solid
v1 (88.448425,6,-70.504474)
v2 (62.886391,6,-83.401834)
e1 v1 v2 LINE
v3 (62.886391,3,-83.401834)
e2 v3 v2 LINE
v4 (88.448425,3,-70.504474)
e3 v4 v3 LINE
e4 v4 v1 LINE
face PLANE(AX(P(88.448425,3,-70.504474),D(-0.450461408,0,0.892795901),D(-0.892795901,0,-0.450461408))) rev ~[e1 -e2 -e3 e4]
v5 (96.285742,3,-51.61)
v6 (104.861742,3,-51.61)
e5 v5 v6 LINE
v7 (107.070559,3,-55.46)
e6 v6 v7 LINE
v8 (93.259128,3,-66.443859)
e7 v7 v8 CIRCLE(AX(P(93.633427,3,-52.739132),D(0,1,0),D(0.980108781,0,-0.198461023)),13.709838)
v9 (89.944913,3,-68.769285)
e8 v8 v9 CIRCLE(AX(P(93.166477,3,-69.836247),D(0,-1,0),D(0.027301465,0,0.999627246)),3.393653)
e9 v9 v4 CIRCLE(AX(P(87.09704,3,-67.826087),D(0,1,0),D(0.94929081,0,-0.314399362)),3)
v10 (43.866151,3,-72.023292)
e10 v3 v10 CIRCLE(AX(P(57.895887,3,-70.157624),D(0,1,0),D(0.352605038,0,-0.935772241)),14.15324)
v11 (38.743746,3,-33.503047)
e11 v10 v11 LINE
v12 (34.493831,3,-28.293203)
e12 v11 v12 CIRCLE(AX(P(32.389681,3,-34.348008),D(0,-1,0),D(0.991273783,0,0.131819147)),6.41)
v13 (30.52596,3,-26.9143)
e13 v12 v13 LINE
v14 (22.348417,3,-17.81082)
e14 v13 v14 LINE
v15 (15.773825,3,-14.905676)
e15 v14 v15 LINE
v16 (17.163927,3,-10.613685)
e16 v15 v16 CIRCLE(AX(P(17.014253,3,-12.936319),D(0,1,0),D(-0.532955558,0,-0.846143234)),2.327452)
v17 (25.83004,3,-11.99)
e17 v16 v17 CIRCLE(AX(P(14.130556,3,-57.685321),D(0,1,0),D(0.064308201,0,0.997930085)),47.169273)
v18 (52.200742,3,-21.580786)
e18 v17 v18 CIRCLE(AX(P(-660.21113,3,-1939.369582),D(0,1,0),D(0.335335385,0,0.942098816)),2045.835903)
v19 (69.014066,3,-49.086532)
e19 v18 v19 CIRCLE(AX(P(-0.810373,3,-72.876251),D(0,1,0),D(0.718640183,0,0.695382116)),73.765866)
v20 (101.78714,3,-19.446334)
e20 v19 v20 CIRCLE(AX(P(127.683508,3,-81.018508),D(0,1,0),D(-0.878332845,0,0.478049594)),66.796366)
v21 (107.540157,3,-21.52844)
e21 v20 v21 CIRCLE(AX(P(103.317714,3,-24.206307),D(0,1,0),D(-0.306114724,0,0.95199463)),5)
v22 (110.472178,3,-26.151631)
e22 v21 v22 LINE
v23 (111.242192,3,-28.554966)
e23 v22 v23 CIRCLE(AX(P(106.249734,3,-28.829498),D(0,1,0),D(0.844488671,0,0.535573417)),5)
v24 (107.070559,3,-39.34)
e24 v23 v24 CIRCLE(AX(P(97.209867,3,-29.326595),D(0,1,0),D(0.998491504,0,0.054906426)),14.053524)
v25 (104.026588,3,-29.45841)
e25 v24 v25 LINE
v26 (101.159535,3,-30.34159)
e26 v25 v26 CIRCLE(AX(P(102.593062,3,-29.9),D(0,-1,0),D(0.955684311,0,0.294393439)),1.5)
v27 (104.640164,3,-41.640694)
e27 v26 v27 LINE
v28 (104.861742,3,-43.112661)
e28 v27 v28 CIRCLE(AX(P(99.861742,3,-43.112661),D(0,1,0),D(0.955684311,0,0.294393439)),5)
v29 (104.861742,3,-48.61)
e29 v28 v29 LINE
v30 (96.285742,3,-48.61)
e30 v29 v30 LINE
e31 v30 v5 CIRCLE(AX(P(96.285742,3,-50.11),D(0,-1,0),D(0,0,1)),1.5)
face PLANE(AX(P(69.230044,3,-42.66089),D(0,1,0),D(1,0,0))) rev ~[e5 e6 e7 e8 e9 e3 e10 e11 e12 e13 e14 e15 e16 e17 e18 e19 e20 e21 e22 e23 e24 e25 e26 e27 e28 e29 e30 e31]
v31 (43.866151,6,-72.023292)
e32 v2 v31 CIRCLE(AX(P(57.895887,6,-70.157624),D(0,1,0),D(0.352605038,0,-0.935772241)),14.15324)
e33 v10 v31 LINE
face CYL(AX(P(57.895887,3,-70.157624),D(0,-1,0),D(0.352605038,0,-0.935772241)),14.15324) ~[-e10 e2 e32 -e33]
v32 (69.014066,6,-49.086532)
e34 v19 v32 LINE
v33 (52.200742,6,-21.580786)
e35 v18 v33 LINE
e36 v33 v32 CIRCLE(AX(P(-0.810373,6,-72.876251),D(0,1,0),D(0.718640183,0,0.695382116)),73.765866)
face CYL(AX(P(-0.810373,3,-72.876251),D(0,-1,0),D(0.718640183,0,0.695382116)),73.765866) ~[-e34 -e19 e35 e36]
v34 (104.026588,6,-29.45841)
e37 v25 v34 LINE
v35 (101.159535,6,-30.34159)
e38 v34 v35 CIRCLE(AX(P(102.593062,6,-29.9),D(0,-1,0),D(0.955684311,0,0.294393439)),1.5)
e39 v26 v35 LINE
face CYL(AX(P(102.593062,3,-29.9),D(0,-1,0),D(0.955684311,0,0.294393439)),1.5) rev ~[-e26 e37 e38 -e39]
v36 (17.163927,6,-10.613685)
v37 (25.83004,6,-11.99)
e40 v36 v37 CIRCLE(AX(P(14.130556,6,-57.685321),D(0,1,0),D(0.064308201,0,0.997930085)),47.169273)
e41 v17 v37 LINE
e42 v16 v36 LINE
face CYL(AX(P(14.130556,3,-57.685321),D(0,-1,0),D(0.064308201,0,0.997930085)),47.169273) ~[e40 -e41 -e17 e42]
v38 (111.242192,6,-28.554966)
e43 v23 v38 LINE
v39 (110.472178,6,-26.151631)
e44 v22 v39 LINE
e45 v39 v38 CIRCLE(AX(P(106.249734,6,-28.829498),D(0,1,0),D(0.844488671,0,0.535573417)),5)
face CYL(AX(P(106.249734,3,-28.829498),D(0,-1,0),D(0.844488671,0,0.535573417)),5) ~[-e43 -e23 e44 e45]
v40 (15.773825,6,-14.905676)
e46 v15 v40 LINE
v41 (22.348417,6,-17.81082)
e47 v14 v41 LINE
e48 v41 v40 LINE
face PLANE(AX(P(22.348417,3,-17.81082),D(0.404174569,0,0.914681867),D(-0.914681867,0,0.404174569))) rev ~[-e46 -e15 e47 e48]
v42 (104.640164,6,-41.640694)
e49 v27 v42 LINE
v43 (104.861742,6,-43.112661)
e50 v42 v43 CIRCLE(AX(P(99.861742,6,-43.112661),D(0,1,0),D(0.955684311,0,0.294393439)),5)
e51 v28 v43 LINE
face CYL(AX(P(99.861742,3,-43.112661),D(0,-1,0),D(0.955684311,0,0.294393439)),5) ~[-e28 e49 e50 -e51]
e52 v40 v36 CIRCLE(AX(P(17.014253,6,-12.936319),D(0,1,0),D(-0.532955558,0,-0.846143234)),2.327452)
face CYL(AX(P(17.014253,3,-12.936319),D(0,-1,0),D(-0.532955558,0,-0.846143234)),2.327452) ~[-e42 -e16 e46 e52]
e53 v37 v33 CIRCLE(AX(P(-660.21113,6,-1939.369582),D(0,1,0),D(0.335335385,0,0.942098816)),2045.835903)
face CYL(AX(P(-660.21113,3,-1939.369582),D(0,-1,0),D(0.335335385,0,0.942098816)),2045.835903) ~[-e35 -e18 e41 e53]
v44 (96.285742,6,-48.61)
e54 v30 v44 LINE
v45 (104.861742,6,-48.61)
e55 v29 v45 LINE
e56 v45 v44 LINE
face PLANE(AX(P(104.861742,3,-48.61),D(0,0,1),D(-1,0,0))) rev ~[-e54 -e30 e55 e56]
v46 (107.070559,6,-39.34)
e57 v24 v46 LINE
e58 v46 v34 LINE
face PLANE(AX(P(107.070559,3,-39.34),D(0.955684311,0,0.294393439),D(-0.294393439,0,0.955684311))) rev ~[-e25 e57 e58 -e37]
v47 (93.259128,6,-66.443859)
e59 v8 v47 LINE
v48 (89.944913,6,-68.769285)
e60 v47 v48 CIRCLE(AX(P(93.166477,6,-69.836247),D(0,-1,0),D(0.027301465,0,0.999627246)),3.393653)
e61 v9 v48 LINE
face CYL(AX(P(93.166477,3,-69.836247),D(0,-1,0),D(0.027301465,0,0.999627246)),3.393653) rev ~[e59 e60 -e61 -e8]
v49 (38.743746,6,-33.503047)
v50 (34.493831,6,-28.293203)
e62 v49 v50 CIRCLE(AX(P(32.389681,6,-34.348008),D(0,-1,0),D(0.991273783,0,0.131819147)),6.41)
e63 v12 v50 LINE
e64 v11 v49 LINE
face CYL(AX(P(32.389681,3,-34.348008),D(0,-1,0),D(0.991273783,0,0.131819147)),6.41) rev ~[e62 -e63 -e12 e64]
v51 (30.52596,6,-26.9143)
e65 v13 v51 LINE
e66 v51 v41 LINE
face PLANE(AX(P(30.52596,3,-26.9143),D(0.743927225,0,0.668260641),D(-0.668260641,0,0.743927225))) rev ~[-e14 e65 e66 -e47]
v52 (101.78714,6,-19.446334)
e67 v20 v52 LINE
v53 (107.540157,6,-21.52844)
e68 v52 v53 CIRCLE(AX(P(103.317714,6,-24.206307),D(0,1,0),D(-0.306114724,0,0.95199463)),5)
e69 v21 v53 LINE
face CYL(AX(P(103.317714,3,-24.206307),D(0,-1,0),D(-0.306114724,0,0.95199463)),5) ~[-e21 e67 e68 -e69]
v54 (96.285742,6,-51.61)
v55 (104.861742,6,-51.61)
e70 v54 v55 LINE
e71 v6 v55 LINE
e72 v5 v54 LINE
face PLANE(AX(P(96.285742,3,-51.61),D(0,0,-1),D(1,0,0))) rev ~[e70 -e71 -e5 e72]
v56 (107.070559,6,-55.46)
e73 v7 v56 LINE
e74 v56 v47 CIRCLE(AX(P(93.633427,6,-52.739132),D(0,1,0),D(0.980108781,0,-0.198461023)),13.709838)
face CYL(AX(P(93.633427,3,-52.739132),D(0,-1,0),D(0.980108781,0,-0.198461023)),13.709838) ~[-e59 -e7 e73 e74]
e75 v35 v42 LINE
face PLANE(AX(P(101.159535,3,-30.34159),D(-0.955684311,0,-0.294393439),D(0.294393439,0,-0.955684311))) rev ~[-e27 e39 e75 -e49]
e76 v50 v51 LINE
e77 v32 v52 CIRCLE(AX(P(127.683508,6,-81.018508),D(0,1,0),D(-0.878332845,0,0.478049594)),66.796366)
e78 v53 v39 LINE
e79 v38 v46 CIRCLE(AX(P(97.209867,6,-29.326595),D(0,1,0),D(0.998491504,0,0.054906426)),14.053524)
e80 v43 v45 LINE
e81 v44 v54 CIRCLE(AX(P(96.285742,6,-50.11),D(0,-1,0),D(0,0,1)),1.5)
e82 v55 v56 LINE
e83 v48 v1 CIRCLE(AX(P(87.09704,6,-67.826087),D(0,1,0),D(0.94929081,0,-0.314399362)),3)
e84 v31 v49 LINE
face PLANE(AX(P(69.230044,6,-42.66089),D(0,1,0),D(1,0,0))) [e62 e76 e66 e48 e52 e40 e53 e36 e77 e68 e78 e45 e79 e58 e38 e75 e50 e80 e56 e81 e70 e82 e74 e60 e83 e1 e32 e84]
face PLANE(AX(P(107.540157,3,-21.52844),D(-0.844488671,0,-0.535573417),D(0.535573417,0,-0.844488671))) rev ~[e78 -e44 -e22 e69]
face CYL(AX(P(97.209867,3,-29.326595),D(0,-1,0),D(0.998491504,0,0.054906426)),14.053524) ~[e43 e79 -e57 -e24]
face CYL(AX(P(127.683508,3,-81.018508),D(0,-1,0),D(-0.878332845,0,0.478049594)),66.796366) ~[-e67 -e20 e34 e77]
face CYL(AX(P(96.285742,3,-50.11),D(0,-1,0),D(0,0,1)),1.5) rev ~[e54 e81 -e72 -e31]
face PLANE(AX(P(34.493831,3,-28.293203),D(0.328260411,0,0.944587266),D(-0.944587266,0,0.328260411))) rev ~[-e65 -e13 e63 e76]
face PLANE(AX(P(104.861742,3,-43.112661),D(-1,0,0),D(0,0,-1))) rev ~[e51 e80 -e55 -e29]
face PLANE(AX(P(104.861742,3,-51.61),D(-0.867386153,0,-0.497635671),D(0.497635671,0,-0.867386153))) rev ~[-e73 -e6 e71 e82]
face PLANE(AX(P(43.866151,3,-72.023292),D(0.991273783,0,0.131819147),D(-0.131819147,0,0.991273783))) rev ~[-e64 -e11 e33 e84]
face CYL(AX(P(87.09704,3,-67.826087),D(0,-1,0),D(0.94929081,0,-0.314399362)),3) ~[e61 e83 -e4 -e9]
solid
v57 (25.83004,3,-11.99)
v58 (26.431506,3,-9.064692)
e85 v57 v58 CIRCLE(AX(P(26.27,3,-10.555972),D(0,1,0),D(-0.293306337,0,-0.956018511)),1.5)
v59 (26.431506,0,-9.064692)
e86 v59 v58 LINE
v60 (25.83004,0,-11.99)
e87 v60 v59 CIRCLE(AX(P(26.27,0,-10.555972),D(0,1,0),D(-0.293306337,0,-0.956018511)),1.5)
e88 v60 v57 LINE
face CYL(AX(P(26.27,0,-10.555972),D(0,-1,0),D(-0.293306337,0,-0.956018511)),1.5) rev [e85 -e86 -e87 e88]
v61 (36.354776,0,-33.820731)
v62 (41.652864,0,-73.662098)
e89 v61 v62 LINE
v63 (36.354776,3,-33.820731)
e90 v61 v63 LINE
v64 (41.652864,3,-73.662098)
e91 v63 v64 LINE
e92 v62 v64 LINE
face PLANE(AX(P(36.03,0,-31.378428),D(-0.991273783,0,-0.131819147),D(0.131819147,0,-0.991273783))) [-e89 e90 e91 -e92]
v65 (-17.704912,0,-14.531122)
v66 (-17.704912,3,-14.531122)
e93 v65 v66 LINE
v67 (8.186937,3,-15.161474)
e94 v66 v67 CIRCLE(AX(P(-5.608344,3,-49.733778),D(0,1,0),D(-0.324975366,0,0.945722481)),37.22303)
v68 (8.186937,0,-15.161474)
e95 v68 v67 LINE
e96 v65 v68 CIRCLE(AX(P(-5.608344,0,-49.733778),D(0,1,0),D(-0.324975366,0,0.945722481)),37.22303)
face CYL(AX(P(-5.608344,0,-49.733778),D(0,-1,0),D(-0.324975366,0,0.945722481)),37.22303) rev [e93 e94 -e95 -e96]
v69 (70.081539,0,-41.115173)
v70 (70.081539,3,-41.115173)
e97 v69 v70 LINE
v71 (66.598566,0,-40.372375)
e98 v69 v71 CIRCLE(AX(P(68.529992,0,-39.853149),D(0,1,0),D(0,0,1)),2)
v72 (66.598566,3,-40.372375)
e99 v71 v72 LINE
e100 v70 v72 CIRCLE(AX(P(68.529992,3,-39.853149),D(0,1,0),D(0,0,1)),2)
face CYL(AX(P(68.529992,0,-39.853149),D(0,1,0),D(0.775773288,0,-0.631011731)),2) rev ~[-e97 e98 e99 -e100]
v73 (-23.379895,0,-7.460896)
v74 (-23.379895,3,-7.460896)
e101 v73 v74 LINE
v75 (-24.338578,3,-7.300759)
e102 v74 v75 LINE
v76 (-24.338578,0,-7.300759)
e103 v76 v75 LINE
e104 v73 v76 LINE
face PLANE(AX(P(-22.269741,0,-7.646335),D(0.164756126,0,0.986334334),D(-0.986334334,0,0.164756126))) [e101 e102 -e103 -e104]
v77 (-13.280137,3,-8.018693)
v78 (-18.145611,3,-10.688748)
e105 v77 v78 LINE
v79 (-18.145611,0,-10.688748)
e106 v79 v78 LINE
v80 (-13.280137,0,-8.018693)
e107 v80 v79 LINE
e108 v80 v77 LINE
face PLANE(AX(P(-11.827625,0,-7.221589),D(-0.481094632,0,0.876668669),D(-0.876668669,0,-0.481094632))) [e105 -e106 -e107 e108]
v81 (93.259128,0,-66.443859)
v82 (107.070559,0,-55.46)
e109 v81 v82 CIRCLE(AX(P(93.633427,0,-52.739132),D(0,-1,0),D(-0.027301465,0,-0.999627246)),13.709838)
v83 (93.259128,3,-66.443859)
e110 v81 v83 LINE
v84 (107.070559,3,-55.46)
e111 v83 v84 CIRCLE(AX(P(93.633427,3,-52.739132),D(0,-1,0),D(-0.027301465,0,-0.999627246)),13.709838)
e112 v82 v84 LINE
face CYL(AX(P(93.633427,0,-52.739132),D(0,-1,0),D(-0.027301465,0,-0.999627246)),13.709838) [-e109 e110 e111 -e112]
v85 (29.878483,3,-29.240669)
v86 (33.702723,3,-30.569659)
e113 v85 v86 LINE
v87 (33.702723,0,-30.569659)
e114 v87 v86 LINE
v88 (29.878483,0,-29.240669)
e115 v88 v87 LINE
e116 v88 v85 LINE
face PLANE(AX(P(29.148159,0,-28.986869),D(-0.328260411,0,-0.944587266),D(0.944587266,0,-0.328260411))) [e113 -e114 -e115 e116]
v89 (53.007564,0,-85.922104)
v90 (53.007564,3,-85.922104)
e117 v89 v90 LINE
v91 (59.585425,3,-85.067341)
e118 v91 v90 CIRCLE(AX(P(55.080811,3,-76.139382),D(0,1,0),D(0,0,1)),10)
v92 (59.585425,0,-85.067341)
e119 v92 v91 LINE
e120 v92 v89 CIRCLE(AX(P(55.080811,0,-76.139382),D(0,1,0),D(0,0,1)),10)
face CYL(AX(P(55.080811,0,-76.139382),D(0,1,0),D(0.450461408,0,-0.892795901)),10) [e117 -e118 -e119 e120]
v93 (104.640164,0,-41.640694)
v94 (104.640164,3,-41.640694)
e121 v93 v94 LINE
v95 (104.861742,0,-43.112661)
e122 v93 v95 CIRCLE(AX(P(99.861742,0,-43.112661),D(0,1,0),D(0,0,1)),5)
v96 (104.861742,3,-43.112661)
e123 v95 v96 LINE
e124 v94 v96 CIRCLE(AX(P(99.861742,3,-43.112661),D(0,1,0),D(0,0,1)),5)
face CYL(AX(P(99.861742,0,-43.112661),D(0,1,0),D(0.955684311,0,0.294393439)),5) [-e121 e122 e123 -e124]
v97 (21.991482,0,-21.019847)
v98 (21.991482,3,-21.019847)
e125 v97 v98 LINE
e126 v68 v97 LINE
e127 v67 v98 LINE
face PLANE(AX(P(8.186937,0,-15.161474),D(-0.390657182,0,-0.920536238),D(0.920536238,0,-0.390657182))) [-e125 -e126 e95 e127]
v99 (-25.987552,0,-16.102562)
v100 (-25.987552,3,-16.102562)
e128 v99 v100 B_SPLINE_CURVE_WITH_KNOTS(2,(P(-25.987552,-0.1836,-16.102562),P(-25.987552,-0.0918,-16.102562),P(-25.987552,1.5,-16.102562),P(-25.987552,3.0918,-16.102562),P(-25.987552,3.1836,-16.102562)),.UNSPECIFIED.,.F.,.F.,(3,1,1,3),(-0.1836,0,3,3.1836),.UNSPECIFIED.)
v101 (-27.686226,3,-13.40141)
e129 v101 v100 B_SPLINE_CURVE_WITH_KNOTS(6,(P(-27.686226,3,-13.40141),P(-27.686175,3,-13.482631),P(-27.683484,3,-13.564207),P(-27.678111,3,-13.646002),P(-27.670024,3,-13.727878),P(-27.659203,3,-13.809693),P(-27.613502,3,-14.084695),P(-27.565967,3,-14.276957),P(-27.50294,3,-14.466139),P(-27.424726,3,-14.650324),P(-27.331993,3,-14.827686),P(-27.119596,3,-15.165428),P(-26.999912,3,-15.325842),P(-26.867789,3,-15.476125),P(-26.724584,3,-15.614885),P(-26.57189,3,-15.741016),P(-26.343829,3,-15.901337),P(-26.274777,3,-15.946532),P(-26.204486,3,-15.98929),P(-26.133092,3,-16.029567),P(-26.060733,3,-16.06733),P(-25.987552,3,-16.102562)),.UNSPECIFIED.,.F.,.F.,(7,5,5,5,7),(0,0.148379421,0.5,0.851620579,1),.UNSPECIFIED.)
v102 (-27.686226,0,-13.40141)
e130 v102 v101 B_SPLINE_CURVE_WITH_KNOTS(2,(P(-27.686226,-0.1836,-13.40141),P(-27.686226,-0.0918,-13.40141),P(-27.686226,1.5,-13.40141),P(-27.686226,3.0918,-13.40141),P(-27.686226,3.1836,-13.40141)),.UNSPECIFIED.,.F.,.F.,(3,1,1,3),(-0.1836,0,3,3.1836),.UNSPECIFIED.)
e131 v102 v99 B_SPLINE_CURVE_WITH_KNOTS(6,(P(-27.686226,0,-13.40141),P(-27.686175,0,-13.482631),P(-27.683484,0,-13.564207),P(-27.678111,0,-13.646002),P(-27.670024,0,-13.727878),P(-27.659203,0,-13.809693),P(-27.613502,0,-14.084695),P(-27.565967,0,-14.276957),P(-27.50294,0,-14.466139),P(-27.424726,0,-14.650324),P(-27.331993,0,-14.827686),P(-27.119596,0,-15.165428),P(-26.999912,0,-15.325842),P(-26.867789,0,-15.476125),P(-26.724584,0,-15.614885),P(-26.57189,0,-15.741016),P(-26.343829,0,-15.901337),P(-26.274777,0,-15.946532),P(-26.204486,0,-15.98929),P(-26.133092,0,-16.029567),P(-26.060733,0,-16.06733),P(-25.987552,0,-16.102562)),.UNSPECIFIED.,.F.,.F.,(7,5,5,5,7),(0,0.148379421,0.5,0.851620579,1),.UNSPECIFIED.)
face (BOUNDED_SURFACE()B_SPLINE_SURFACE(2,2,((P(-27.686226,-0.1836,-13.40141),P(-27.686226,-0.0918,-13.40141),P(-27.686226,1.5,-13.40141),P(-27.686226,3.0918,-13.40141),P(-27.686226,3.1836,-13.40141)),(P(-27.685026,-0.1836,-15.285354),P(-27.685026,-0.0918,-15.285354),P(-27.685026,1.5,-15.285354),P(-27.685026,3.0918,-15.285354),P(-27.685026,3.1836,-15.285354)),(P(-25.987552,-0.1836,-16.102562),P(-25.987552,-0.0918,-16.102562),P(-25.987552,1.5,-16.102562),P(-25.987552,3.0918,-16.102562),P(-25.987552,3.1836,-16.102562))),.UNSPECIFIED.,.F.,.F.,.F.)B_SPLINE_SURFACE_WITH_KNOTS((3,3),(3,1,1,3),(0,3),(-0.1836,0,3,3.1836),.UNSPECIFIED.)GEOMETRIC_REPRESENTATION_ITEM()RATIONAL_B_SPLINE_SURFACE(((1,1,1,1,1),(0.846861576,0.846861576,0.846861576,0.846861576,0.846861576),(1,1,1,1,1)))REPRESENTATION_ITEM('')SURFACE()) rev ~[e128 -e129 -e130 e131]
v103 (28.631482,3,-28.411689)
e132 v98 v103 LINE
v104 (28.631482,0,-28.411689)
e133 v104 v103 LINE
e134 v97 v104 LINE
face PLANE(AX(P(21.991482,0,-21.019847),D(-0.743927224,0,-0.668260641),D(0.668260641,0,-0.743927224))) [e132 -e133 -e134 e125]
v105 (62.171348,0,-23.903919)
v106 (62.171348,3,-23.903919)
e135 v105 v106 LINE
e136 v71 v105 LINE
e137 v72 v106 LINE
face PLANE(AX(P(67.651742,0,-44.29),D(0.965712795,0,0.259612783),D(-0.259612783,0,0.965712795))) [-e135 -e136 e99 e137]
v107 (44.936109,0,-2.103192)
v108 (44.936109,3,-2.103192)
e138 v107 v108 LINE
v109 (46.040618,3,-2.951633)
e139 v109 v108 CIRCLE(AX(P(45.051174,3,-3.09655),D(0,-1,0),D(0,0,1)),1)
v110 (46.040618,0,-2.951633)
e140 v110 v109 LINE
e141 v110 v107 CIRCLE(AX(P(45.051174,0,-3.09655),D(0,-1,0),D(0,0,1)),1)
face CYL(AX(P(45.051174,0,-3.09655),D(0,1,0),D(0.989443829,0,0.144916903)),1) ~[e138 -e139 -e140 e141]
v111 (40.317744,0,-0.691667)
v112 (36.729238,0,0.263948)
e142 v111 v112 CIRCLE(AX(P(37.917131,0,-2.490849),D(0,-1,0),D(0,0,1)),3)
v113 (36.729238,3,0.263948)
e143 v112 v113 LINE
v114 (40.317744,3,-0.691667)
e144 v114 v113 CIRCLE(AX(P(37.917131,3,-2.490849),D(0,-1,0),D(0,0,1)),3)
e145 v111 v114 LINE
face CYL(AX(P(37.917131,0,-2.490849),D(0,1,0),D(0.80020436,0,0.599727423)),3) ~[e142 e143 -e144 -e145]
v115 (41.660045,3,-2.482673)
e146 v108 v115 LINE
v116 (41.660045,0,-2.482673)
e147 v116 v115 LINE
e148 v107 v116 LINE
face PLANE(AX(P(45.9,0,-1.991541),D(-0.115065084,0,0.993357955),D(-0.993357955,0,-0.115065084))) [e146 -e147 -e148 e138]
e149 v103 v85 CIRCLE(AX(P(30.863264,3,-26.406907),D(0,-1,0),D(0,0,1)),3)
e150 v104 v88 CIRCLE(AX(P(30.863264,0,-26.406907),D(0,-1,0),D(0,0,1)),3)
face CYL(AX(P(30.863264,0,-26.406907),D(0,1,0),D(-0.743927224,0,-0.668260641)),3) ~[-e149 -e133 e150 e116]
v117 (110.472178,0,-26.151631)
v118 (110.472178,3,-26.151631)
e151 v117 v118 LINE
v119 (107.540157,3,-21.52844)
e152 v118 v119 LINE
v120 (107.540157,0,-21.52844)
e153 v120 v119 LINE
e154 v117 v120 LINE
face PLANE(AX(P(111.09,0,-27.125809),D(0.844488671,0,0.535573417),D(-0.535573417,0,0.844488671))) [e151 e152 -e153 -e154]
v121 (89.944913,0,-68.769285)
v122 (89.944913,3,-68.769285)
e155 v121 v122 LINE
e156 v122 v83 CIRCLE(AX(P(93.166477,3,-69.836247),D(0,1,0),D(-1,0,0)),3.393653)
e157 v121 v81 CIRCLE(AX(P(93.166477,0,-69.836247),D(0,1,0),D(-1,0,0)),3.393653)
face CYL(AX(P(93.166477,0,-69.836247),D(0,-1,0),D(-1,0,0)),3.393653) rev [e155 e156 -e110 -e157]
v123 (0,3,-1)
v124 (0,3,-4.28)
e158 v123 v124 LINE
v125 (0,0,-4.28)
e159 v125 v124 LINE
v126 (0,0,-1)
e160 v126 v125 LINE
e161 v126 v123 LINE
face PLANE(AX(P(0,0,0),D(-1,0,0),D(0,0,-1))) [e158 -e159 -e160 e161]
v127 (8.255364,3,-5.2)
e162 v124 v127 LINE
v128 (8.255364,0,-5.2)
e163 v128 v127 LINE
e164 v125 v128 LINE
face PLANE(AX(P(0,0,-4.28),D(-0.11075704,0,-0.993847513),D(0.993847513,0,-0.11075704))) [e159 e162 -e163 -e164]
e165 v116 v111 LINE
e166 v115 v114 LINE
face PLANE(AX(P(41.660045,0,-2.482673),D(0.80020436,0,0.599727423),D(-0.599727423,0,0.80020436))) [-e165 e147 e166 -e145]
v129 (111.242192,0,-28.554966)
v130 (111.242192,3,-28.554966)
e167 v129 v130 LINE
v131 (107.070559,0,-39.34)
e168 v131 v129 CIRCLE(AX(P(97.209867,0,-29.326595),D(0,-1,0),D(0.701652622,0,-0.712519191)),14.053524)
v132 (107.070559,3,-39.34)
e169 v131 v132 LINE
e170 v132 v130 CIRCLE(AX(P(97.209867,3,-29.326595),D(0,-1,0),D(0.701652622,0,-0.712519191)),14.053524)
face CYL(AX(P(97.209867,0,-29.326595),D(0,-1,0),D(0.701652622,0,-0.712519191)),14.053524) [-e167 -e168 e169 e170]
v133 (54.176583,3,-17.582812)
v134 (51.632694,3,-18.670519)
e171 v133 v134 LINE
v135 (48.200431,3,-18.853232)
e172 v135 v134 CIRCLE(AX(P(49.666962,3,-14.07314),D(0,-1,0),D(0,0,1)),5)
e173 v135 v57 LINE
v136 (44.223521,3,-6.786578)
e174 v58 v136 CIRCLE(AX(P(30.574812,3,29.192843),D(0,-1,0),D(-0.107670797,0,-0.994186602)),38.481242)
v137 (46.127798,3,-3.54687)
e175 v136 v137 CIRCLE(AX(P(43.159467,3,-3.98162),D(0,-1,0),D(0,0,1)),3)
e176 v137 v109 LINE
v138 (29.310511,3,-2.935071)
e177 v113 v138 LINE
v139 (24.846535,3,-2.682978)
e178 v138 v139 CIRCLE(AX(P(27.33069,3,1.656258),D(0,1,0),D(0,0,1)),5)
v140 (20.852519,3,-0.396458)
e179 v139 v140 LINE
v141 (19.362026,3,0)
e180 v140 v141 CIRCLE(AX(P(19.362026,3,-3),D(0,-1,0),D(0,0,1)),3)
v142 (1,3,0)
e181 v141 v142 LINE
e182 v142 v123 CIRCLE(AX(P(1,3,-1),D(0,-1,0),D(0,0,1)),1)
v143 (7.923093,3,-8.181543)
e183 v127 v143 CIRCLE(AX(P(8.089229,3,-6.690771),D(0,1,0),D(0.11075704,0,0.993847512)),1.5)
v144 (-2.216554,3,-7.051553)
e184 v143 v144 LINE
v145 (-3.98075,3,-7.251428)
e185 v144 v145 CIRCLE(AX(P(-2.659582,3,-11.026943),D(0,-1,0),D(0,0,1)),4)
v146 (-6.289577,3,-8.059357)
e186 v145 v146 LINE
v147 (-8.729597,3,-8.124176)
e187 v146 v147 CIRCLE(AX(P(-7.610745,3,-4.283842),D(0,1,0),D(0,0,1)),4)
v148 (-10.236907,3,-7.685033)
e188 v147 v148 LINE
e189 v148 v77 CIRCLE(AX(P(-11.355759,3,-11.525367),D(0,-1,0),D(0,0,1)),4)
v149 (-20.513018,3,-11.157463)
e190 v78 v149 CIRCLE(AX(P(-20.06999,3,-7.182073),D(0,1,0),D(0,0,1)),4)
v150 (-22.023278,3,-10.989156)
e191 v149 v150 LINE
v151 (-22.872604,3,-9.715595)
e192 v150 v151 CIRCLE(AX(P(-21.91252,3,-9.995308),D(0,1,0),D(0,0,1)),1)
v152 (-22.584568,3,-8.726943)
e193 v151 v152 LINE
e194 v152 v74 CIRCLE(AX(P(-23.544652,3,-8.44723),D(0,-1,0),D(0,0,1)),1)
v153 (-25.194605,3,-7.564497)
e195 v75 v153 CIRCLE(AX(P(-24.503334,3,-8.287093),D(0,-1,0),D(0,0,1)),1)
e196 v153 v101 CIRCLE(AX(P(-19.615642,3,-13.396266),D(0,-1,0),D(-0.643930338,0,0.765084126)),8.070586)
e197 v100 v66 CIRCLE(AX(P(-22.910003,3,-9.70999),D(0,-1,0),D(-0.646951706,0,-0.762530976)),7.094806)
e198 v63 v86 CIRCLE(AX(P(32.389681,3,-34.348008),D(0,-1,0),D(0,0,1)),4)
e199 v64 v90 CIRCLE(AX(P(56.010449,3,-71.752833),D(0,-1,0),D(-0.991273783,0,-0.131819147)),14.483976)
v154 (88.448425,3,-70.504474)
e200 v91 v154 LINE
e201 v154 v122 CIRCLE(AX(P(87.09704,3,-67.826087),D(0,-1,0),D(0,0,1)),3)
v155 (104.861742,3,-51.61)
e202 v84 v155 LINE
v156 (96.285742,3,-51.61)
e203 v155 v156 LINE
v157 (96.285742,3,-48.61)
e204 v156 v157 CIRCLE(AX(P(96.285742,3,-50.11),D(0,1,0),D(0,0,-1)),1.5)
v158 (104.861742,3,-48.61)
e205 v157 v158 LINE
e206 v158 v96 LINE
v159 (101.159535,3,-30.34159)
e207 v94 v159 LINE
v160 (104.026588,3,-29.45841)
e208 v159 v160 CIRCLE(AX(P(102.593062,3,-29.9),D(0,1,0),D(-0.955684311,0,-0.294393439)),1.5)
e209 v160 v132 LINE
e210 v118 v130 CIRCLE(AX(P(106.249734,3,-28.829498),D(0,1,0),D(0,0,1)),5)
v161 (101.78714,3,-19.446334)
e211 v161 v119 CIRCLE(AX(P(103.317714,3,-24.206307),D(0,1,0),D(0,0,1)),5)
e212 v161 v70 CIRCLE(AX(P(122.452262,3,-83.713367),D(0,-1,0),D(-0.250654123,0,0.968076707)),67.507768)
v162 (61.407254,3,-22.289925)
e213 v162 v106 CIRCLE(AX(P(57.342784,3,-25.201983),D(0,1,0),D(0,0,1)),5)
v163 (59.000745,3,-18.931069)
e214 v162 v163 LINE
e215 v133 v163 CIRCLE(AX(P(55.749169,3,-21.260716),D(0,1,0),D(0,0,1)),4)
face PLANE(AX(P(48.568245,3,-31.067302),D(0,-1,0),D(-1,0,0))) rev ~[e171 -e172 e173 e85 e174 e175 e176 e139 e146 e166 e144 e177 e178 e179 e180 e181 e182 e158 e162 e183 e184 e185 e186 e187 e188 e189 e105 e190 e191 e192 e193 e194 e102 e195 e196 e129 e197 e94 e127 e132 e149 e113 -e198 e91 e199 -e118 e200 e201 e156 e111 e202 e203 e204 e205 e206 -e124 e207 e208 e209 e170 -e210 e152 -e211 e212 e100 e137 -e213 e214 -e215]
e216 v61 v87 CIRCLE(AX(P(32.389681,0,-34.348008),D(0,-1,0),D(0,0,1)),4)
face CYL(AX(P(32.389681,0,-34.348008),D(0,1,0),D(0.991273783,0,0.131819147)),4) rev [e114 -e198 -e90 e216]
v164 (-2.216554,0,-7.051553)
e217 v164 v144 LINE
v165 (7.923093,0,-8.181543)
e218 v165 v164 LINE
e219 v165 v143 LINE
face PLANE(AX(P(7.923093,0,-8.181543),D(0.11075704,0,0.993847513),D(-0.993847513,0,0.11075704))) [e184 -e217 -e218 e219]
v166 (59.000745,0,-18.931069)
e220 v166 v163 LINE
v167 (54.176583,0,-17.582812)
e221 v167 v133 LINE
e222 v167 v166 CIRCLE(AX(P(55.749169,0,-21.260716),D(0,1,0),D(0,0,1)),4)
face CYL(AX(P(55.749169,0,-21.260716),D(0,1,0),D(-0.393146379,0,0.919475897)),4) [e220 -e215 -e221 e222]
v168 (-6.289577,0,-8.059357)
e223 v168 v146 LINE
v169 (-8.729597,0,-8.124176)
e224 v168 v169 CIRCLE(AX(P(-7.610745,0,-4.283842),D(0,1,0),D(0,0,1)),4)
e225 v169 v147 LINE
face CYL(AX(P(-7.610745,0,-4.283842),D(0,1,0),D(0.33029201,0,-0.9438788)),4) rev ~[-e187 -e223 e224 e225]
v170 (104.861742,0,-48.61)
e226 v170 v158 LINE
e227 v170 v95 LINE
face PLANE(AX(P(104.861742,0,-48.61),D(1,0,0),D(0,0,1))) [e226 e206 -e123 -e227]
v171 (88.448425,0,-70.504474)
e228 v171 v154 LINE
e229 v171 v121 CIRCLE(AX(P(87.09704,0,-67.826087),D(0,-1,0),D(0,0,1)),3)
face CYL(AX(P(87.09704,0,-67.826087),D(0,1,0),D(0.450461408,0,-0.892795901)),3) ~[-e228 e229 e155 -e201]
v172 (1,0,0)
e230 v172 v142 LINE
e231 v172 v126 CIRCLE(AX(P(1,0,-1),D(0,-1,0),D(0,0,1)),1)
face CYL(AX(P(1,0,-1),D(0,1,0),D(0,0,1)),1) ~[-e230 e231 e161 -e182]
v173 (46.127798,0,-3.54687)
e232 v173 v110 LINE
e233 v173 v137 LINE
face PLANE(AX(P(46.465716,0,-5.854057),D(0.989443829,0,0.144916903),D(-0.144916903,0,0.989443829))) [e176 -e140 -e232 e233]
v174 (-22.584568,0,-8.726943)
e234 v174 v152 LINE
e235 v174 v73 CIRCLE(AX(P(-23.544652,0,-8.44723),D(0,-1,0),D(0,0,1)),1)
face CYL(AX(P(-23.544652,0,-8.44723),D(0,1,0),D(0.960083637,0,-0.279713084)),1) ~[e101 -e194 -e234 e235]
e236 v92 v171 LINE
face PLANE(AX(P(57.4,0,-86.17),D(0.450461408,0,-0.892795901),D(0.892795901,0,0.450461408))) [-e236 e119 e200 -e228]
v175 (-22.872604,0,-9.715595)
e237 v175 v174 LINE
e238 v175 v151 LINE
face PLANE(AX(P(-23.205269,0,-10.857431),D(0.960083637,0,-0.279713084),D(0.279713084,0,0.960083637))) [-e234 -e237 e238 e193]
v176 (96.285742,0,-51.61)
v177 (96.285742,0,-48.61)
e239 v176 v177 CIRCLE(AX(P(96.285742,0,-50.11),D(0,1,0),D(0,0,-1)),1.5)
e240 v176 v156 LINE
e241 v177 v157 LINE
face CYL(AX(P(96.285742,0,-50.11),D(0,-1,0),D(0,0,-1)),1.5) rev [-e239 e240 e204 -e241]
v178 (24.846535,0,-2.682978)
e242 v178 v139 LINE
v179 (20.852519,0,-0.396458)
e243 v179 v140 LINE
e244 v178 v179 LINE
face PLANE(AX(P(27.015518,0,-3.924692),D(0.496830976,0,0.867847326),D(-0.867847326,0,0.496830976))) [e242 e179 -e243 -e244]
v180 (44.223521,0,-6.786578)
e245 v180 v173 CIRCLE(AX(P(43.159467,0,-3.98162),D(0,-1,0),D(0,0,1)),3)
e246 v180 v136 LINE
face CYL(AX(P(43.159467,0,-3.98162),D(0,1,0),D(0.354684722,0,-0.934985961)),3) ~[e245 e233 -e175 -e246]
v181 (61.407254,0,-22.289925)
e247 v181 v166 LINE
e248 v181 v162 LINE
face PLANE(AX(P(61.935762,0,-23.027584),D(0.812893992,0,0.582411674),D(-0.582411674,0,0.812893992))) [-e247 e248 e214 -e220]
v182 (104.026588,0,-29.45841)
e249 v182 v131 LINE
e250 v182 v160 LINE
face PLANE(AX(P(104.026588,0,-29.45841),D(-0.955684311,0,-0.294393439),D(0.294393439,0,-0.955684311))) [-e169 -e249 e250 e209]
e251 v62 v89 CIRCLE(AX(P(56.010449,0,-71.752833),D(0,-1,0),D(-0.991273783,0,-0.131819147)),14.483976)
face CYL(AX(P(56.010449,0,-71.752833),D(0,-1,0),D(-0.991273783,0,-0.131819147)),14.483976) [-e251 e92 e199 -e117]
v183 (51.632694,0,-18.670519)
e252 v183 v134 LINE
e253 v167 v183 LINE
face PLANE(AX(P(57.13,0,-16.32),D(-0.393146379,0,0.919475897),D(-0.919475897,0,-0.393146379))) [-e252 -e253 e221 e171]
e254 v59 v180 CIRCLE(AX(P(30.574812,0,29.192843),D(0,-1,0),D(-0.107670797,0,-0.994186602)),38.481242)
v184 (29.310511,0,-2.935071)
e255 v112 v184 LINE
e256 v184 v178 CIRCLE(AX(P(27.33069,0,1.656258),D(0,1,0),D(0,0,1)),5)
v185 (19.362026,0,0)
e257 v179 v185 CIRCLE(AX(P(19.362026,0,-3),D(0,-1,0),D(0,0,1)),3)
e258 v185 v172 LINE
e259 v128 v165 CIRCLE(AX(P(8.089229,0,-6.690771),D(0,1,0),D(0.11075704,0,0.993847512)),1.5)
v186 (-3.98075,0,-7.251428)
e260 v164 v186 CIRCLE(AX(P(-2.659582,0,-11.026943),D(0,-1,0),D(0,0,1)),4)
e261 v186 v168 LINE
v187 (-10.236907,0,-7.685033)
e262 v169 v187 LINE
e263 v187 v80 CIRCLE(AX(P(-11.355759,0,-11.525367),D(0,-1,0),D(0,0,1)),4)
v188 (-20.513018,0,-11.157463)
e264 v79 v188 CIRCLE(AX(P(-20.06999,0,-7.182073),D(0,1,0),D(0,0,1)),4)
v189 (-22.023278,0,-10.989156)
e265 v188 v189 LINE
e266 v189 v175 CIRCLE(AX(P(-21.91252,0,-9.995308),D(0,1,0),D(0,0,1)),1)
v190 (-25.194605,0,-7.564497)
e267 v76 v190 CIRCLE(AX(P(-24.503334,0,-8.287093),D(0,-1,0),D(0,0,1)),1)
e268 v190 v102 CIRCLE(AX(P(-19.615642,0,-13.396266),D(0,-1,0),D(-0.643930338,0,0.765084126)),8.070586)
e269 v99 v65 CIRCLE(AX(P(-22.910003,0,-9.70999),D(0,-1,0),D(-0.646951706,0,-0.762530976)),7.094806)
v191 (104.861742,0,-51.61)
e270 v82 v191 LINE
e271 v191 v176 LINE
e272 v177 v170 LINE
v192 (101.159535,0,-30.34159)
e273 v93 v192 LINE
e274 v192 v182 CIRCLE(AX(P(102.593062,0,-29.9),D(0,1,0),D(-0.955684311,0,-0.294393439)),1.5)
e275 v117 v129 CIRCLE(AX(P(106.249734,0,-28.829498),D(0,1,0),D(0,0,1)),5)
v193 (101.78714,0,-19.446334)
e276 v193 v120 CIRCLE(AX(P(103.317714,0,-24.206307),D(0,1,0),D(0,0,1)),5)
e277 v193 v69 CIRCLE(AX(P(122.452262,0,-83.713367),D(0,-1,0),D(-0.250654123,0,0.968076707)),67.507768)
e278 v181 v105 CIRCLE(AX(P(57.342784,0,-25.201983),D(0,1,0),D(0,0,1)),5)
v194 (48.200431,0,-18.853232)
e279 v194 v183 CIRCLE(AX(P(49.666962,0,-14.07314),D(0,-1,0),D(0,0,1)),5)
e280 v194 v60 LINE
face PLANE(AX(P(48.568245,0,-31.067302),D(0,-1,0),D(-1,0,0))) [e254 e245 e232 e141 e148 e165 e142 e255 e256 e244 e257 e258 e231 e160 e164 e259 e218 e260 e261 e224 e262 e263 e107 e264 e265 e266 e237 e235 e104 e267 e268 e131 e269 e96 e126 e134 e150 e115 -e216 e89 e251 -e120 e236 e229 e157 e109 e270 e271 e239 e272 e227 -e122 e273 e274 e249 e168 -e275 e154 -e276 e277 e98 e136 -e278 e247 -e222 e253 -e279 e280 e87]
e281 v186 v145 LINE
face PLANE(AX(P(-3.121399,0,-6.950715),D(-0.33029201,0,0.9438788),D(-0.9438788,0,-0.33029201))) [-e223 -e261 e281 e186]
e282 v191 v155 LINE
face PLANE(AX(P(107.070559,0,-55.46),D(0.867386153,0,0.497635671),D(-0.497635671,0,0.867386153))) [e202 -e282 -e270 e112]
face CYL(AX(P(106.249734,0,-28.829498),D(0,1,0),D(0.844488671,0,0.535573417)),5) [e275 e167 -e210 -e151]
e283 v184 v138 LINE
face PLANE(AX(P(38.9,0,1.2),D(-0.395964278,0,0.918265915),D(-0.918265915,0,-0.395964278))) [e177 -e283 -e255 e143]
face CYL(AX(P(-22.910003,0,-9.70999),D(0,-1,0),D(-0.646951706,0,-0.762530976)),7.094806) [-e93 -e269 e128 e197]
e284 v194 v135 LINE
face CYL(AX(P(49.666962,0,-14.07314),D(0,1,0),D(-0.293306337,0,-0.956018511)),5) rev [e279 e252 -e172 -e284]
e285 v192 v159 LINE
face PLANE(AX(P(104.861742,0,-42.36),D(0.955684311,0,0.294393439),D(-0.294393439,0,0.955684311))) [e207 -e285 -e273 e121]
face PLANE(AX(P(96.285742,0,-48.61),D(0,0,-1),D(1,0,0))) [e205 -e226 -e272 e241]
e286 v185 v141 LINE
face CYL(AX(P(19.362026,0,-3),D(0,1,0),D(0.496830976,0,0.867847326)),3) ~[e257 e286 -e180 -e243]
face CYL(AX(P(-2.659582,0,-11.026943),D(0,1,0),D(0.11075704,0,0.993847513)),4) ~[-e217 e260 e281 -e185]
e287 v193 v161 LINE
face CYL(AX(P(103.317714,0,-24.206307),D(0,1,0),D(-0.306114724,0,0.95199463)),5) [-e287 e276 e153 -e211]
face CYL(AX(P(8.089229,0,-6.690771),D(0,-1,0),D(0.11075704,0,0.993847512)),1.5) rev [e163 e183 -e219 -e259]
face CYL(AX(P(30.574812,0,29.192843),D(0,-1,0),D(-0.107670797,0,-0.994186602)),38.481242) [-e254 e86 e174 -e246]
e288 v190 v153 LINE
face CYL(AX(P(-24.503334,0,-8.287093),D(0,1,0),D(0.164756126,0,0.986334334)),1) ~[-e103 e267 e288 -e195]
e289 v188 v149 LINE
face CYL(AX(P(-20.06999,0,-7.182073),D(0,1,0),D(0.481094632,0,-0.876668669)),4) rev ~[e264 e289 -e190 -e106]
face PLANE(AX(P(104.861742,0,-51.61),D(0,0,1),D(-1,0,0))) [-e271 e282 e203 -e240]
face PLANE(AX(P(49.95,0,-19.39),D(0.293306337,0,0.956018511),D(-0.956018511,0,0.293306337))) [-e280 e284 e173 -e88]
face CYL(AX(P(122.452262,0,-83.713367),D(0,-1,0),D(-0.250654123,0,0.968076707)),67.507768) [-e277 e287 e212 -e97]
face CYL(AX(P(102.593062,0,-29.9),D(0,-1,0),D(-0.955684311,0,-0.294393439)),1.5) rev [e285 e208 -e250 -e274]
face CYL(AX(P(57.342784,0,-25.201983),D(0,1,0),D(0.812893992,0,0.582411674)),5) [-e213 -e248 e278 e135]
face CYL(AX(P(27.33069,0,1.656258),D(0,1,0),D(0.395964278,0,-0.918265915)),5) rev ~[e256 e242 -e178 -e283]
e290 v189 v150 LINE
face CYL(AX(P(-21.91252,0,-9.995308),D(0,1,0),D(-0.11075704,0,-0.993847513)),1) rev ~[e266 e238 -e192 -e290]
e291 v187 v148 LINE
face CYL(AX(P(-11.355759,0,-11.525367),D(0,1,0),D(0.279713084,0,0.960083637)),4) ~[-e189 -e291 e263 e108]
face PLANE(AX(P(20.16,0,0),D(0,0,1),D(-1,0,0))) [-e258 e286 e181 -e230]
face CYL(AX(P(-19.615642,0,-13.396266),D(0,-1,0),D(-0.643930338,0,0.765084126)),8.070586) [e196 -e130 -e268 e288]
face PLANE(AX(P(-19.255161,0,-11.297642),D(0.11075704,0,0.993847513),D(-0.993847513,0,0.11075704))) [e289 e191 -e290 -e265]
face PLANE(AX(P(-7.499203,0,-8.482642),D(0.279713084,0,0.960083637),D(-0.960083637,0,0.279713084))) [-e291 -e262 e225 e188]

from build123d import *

# Parameters (mm, degrees)
BOSS_EXTRUDE1_DEPTH = 3
FILLET1_R           = 3
FILLET2_R           = 5
FILLET3_R           = 4
FILLET4_R           = 1
FILLET5_R           = 10
FILLET6_R           = 2
BOSS_EXTRUDE2_DEPTH = 3


with BuildPart() as part:
    # Sketch2 → Boss-Extrude1 (new body)
    with BuildSketch(Plane(origin=(0, 0, 0), x_dir=(1, 0, 0), z_dir=(0, 1, 0))):
        with BuildLine():
            Line((104.861742338, 51.61), (96.285742338, 51.61))
            ThreePointArc((96.285742338, 51.61), (94.785742338, 50.11), (96.285742338, 48.61))
            Line((96.285742338, 48.61), (104.861742338, 48.61))
            Line((104.861742338, 48.61), (104.861742338, 42.36))
            Line((104.861742338, 42.36), (101.159535482, 30.341590159))
            ThreePointArc((101.159535482, 30.341590159), (102.15147179, 28.466473533), (104.026588416, 29.458409841))
            Line((104.026588416, 29.458409841), (107.0705594, 39.34))
            ThreePointArc((107.0705594, 39.34), (110.559148386, 33.719570051), (111.09, 27.125809175))
            Line((111.09, 27.125809175), (105.531161353, 18.360668643))
            ThreePointArc((105.531161353, 18.360668643), (84.319857644, 28.006827284), (67.651742338, 44.29))
            Line((67.651742338, 44.29), (61.935762488, 23.027584397))
            Line((61.935762488, 23.027584397), (57.13, 16.32))
            Line((57.13, 16.32), (49.95, 19.39))
            Line((49.95, 19.39), (25.830040494, 11.99))
            ThreePointArc((25.830040494, 11.99), (24.800734775, 10.253880031), (26.431506195, 9.064692331))
            ThreePointArc((26.431506195, 9.064692331), (36.664028635, 8.803570476), (46.46571567, 5.854056721))
            Line((46.46571567, 5.854056721), (45.9, 1.991540554))
            Line((45.9, 1.991540554), (41.660045255, 2.482673431))
            Line((41.660045255, 2.482673431), (38.9, -1.2))
            Line((38.9, -1.2), (27.015518097, 3.924692331))
            Line((27.015518097, 3.924692331), (20.16, 0))
            Line((20.16, 0), (0, 0))
            Line((0, 0), (0, 4.28))
            Line((0, 4.28), (8.255364291, 5.2))
            ThreePointArc((8.255364291, 5.2), (9.58, 6.856906829), (7.923093171, 8.181542538))
            Line((7.923093171, 8.181542538), (-3.121398875, 6.950714639))
            Line((-3.121398875, 6.950714639), (-7.499203077, 8.482641989))
            Line((-7.499203077, 8.482641989), (-11.827625236, 7.22158903))
            Line((-11.827625236, 7.22158903), (-19.255161489, 11.297641869))
            Line((-19.255161489, 11.297641869), (-23.205269456, 10.857431213))
            Line((-23.205269456, 10.857431213), (-22.269740859, 7.646334739))
            Line((-22.269740859, 7.646334739), (-24.812537217, 7.22158903))
            ThreePointArc((-24.812537217, 7.22158903), (-27.256062178, 10.796585791), (-27.5, 15.12))
            ThreePointArc((-27.5, 15.12), (-22.484233626, 16.792009689), (-17.704912147, 14.531121607))
            ThreePointArc((-17.704912147, 14.531121607), (-4.702395419, 12.521774189), (8.186937419, 15.161474421))
            Line((8.186937419, 15.161474421), (21.991482078, 21.019847276))
            Line((21.991482078, 21.019847276), (29.148159429, 28.986869108))
            Line((29.148159429, 28.986869108), (36.03, 31.378427725))
            Line((36.03, 31.378427725), (41.652863678, 73.662098134))
            ThreePointArc((41.652863678, 73.662098134), (47.001876481, 83.094401265), (57.4, 86.17))
            Line((57.4, 86.17), (89.772823478, 69.836247096))
            ThreePointArc((89.772823478, 69.836247096), (90.799785464, 67.40403524), (93.25912827, 66.443859006))
            ThreePointArc((93.25912827, 66.443859006), (102.166931279, 63.469413825), (107.0705594, 55.46))
            Line((107.0705594, 55.46), (104.861742338, 51.61))
        make_face()
    extrude(amount=BOSS_EXTRUDE1_DEPTH)

    # Fillet1
    fillet1_edges = [part.edges().sort_by_distance(p)[0] for p in [
        (46.46571567, 1.5, -5.854056721),
        (38.9, 1.5, 1.2),
        (20.16, 1.5, 0),
        (-27.5, 1.5, -15.12),
        (29.148159429, 1.5, -28.986869108),
        (89.772823478, 1.5, -69.836247096),
    ]]
    fillet(fillet1_edges, radius=FILLET1_R)

    # Fillet2
    fillet2_edges = [part.edges().sort_by_distance(p)[0] for p in [
        (104.861742338, 1.5, -42.36),
        (111.09, 1.5, -27.125809175),
        (105.531161353, 1.5, -18.360668643),
        (61.935762488, 1.5, -23.027584397),
        (49.95, 1.5, -19.39),
        (27.015518097, 1.5, -3.924692331),
    ]]
    fillet(fillet2_edges, radius=FILLET2_R)

    # Fillet3
    fillet3_edges = [part.edges().sort_by_distance(p)[0] for p in [
        (57.13, 1.5, -16.32),
        (-3.121398875, 1.5, -6.950714639),
        (-7.499203077, 1.5, -8.482641989),
        (-11.827625236, 1.5, -7.22158903),
        (-19.255161489, 1.5, -11.297641869),
        (36.03, 1.5, -31.378427725),
    ]]
    fillet(fillet3_edges, radius=FILLET3_R)

    # Fillet4
    fillet4_edges = [part.edges().sort_by_distance(p)[0] for p in [
        (45.9, 1.5, -1.991540554),
        (0, 1.5, 0),
        (-23.205269456, 1.5, -10.857431213),
        (-22.269740859, 1.5, -7.646334739),
        (-24.812537217, 1.5, -7.22158903),
    ]]
    fillet(fillet4_edges, radius=FILLET4_R)

    # Fillet5
    fillet5_edges = [part.edges().sort_by_distance(p)[0] for p in [
        (57.4, 1.5, -86.17),
    ]]
    fillet(fillet5_edges, radius=FILLET5_R)

    # Fillet6
    fillet6_edges = [part.edges().sort_by_distance(p)[0] for p in [
        (67.651742338, 1.5, -44.29),
    ]]
    fillet(fillet6_edges, radius=FILLET6_R)


with BuildPart() as body_2:
    # Sketch3 → Boss-Extrude2 (new body)
    with BuildSketch(Plane(origin=(0, 3, 0), x_dir=(1, 0, 0), z_dir=(0, 1, 0))):
        with BuildLine():
            Line((104.861742338, 48.61), (96.285742338, 48.61))
            ThreePointArc((96.285742338, 48.61), (94.785742338, 50.11), (96.285742338, 51.61))
            Line((96.285742338, 51.61), (104.861742338, 51.61))
            Line((104.861742338, 51.61), (107.0705594, 55.46))
            ThreePointArc((107.0705594, 55.46), (102.166931279, 63.469413825), (93.25912827, 66.443859006))
            ThreePointArc((93.25912827, 66.443859006), (91.217265508, 67.058215862), (89.944912878, 68.769284731))
            ThreePointArc((89.944912878, 68.769284731), (89.368859073, 69.785382473), (88.448424673, 70.504474347))
            Line((88.448424673, 70.504474347), (62.886391144, 83.401833753))
            ThreePointArc((62.886391144, 83.401833753), (50.629889119, 82.303384138), (43.866151343, 72.023292468))
            Line((43.866151343, 72.023292468), (38.743746243, 33.50304703))
            ThreePointArc((38.743746243, 33.50304703), (37.356668761, 30.29620131), (34.493830529, 28.293203387))
            Line((34.493830529, 28.293203387), (30.525960235, 26.914299837))
            Line((30.525960235, 26.914299837), (22.34841713, 17.810820491))
            Line((22.34841713, 17.810820491), (15.773824722, 14.905675932))
            ThreePointArc((15.773824722, 14.905675932), (14.800041257, 12.21917328), (17.163927201, 10.613684575))
            ThreePointArc((17.163927201, 10.613684575), (21.529057218, 11.09988897), (25.830040494, 11.99))
            ThreePointArc((25.830040494, 11.99), (39.031835006, 16.740180215), (52.200742429, 21.580786346))
            ThreePointArc((52.200742429, 21.580786346), (62.128366101, 34.40394722), (69.014066143, 49.086532194))
            ThreePointArc((69.014066143, 49.086532194), (82.878604374, 31.477866982), (101.787139988, 19.446333753))
            ThreePointArc((101.787139988, 19.446333753), (105.019281146, 19.504746746), (107.540156963, 21.528439821))
            Line((107.540156963, 21.528439821), (110.472177565, 26.151630788))
            ThreePointArc((110.472177565, 26.151630788), (111.011310028, 27.303917414), (111.242191732, 28.554965743))
            ThreePointArc((111.242191732, 28.554965743), (110.317052398, 34.396430634), (107.0705594, 39.34))
            Line((107.0705594, 39.34), (104.026588416, 29.458409841))
            ThreePointArc((104.026588416, 29.458409841), (102.15147179, 28.466473533), (101.159535482, 30.341590159))
            Line((101.159535482, 30.341590159), (104.640163894, 41.640693745))
            ThreePointArc((104.640163894, 41.640693745), (104.806037423, 42.368385383), (104.861742338, 43.112660943))
            Line((104.861742338, 43.112660943), (104.861742338, 48.61))
        make_face()
    extrude(amount=BOSS_EXTRUDE2_DEPTH)


solid = Compound([part.part, body_2.part])
